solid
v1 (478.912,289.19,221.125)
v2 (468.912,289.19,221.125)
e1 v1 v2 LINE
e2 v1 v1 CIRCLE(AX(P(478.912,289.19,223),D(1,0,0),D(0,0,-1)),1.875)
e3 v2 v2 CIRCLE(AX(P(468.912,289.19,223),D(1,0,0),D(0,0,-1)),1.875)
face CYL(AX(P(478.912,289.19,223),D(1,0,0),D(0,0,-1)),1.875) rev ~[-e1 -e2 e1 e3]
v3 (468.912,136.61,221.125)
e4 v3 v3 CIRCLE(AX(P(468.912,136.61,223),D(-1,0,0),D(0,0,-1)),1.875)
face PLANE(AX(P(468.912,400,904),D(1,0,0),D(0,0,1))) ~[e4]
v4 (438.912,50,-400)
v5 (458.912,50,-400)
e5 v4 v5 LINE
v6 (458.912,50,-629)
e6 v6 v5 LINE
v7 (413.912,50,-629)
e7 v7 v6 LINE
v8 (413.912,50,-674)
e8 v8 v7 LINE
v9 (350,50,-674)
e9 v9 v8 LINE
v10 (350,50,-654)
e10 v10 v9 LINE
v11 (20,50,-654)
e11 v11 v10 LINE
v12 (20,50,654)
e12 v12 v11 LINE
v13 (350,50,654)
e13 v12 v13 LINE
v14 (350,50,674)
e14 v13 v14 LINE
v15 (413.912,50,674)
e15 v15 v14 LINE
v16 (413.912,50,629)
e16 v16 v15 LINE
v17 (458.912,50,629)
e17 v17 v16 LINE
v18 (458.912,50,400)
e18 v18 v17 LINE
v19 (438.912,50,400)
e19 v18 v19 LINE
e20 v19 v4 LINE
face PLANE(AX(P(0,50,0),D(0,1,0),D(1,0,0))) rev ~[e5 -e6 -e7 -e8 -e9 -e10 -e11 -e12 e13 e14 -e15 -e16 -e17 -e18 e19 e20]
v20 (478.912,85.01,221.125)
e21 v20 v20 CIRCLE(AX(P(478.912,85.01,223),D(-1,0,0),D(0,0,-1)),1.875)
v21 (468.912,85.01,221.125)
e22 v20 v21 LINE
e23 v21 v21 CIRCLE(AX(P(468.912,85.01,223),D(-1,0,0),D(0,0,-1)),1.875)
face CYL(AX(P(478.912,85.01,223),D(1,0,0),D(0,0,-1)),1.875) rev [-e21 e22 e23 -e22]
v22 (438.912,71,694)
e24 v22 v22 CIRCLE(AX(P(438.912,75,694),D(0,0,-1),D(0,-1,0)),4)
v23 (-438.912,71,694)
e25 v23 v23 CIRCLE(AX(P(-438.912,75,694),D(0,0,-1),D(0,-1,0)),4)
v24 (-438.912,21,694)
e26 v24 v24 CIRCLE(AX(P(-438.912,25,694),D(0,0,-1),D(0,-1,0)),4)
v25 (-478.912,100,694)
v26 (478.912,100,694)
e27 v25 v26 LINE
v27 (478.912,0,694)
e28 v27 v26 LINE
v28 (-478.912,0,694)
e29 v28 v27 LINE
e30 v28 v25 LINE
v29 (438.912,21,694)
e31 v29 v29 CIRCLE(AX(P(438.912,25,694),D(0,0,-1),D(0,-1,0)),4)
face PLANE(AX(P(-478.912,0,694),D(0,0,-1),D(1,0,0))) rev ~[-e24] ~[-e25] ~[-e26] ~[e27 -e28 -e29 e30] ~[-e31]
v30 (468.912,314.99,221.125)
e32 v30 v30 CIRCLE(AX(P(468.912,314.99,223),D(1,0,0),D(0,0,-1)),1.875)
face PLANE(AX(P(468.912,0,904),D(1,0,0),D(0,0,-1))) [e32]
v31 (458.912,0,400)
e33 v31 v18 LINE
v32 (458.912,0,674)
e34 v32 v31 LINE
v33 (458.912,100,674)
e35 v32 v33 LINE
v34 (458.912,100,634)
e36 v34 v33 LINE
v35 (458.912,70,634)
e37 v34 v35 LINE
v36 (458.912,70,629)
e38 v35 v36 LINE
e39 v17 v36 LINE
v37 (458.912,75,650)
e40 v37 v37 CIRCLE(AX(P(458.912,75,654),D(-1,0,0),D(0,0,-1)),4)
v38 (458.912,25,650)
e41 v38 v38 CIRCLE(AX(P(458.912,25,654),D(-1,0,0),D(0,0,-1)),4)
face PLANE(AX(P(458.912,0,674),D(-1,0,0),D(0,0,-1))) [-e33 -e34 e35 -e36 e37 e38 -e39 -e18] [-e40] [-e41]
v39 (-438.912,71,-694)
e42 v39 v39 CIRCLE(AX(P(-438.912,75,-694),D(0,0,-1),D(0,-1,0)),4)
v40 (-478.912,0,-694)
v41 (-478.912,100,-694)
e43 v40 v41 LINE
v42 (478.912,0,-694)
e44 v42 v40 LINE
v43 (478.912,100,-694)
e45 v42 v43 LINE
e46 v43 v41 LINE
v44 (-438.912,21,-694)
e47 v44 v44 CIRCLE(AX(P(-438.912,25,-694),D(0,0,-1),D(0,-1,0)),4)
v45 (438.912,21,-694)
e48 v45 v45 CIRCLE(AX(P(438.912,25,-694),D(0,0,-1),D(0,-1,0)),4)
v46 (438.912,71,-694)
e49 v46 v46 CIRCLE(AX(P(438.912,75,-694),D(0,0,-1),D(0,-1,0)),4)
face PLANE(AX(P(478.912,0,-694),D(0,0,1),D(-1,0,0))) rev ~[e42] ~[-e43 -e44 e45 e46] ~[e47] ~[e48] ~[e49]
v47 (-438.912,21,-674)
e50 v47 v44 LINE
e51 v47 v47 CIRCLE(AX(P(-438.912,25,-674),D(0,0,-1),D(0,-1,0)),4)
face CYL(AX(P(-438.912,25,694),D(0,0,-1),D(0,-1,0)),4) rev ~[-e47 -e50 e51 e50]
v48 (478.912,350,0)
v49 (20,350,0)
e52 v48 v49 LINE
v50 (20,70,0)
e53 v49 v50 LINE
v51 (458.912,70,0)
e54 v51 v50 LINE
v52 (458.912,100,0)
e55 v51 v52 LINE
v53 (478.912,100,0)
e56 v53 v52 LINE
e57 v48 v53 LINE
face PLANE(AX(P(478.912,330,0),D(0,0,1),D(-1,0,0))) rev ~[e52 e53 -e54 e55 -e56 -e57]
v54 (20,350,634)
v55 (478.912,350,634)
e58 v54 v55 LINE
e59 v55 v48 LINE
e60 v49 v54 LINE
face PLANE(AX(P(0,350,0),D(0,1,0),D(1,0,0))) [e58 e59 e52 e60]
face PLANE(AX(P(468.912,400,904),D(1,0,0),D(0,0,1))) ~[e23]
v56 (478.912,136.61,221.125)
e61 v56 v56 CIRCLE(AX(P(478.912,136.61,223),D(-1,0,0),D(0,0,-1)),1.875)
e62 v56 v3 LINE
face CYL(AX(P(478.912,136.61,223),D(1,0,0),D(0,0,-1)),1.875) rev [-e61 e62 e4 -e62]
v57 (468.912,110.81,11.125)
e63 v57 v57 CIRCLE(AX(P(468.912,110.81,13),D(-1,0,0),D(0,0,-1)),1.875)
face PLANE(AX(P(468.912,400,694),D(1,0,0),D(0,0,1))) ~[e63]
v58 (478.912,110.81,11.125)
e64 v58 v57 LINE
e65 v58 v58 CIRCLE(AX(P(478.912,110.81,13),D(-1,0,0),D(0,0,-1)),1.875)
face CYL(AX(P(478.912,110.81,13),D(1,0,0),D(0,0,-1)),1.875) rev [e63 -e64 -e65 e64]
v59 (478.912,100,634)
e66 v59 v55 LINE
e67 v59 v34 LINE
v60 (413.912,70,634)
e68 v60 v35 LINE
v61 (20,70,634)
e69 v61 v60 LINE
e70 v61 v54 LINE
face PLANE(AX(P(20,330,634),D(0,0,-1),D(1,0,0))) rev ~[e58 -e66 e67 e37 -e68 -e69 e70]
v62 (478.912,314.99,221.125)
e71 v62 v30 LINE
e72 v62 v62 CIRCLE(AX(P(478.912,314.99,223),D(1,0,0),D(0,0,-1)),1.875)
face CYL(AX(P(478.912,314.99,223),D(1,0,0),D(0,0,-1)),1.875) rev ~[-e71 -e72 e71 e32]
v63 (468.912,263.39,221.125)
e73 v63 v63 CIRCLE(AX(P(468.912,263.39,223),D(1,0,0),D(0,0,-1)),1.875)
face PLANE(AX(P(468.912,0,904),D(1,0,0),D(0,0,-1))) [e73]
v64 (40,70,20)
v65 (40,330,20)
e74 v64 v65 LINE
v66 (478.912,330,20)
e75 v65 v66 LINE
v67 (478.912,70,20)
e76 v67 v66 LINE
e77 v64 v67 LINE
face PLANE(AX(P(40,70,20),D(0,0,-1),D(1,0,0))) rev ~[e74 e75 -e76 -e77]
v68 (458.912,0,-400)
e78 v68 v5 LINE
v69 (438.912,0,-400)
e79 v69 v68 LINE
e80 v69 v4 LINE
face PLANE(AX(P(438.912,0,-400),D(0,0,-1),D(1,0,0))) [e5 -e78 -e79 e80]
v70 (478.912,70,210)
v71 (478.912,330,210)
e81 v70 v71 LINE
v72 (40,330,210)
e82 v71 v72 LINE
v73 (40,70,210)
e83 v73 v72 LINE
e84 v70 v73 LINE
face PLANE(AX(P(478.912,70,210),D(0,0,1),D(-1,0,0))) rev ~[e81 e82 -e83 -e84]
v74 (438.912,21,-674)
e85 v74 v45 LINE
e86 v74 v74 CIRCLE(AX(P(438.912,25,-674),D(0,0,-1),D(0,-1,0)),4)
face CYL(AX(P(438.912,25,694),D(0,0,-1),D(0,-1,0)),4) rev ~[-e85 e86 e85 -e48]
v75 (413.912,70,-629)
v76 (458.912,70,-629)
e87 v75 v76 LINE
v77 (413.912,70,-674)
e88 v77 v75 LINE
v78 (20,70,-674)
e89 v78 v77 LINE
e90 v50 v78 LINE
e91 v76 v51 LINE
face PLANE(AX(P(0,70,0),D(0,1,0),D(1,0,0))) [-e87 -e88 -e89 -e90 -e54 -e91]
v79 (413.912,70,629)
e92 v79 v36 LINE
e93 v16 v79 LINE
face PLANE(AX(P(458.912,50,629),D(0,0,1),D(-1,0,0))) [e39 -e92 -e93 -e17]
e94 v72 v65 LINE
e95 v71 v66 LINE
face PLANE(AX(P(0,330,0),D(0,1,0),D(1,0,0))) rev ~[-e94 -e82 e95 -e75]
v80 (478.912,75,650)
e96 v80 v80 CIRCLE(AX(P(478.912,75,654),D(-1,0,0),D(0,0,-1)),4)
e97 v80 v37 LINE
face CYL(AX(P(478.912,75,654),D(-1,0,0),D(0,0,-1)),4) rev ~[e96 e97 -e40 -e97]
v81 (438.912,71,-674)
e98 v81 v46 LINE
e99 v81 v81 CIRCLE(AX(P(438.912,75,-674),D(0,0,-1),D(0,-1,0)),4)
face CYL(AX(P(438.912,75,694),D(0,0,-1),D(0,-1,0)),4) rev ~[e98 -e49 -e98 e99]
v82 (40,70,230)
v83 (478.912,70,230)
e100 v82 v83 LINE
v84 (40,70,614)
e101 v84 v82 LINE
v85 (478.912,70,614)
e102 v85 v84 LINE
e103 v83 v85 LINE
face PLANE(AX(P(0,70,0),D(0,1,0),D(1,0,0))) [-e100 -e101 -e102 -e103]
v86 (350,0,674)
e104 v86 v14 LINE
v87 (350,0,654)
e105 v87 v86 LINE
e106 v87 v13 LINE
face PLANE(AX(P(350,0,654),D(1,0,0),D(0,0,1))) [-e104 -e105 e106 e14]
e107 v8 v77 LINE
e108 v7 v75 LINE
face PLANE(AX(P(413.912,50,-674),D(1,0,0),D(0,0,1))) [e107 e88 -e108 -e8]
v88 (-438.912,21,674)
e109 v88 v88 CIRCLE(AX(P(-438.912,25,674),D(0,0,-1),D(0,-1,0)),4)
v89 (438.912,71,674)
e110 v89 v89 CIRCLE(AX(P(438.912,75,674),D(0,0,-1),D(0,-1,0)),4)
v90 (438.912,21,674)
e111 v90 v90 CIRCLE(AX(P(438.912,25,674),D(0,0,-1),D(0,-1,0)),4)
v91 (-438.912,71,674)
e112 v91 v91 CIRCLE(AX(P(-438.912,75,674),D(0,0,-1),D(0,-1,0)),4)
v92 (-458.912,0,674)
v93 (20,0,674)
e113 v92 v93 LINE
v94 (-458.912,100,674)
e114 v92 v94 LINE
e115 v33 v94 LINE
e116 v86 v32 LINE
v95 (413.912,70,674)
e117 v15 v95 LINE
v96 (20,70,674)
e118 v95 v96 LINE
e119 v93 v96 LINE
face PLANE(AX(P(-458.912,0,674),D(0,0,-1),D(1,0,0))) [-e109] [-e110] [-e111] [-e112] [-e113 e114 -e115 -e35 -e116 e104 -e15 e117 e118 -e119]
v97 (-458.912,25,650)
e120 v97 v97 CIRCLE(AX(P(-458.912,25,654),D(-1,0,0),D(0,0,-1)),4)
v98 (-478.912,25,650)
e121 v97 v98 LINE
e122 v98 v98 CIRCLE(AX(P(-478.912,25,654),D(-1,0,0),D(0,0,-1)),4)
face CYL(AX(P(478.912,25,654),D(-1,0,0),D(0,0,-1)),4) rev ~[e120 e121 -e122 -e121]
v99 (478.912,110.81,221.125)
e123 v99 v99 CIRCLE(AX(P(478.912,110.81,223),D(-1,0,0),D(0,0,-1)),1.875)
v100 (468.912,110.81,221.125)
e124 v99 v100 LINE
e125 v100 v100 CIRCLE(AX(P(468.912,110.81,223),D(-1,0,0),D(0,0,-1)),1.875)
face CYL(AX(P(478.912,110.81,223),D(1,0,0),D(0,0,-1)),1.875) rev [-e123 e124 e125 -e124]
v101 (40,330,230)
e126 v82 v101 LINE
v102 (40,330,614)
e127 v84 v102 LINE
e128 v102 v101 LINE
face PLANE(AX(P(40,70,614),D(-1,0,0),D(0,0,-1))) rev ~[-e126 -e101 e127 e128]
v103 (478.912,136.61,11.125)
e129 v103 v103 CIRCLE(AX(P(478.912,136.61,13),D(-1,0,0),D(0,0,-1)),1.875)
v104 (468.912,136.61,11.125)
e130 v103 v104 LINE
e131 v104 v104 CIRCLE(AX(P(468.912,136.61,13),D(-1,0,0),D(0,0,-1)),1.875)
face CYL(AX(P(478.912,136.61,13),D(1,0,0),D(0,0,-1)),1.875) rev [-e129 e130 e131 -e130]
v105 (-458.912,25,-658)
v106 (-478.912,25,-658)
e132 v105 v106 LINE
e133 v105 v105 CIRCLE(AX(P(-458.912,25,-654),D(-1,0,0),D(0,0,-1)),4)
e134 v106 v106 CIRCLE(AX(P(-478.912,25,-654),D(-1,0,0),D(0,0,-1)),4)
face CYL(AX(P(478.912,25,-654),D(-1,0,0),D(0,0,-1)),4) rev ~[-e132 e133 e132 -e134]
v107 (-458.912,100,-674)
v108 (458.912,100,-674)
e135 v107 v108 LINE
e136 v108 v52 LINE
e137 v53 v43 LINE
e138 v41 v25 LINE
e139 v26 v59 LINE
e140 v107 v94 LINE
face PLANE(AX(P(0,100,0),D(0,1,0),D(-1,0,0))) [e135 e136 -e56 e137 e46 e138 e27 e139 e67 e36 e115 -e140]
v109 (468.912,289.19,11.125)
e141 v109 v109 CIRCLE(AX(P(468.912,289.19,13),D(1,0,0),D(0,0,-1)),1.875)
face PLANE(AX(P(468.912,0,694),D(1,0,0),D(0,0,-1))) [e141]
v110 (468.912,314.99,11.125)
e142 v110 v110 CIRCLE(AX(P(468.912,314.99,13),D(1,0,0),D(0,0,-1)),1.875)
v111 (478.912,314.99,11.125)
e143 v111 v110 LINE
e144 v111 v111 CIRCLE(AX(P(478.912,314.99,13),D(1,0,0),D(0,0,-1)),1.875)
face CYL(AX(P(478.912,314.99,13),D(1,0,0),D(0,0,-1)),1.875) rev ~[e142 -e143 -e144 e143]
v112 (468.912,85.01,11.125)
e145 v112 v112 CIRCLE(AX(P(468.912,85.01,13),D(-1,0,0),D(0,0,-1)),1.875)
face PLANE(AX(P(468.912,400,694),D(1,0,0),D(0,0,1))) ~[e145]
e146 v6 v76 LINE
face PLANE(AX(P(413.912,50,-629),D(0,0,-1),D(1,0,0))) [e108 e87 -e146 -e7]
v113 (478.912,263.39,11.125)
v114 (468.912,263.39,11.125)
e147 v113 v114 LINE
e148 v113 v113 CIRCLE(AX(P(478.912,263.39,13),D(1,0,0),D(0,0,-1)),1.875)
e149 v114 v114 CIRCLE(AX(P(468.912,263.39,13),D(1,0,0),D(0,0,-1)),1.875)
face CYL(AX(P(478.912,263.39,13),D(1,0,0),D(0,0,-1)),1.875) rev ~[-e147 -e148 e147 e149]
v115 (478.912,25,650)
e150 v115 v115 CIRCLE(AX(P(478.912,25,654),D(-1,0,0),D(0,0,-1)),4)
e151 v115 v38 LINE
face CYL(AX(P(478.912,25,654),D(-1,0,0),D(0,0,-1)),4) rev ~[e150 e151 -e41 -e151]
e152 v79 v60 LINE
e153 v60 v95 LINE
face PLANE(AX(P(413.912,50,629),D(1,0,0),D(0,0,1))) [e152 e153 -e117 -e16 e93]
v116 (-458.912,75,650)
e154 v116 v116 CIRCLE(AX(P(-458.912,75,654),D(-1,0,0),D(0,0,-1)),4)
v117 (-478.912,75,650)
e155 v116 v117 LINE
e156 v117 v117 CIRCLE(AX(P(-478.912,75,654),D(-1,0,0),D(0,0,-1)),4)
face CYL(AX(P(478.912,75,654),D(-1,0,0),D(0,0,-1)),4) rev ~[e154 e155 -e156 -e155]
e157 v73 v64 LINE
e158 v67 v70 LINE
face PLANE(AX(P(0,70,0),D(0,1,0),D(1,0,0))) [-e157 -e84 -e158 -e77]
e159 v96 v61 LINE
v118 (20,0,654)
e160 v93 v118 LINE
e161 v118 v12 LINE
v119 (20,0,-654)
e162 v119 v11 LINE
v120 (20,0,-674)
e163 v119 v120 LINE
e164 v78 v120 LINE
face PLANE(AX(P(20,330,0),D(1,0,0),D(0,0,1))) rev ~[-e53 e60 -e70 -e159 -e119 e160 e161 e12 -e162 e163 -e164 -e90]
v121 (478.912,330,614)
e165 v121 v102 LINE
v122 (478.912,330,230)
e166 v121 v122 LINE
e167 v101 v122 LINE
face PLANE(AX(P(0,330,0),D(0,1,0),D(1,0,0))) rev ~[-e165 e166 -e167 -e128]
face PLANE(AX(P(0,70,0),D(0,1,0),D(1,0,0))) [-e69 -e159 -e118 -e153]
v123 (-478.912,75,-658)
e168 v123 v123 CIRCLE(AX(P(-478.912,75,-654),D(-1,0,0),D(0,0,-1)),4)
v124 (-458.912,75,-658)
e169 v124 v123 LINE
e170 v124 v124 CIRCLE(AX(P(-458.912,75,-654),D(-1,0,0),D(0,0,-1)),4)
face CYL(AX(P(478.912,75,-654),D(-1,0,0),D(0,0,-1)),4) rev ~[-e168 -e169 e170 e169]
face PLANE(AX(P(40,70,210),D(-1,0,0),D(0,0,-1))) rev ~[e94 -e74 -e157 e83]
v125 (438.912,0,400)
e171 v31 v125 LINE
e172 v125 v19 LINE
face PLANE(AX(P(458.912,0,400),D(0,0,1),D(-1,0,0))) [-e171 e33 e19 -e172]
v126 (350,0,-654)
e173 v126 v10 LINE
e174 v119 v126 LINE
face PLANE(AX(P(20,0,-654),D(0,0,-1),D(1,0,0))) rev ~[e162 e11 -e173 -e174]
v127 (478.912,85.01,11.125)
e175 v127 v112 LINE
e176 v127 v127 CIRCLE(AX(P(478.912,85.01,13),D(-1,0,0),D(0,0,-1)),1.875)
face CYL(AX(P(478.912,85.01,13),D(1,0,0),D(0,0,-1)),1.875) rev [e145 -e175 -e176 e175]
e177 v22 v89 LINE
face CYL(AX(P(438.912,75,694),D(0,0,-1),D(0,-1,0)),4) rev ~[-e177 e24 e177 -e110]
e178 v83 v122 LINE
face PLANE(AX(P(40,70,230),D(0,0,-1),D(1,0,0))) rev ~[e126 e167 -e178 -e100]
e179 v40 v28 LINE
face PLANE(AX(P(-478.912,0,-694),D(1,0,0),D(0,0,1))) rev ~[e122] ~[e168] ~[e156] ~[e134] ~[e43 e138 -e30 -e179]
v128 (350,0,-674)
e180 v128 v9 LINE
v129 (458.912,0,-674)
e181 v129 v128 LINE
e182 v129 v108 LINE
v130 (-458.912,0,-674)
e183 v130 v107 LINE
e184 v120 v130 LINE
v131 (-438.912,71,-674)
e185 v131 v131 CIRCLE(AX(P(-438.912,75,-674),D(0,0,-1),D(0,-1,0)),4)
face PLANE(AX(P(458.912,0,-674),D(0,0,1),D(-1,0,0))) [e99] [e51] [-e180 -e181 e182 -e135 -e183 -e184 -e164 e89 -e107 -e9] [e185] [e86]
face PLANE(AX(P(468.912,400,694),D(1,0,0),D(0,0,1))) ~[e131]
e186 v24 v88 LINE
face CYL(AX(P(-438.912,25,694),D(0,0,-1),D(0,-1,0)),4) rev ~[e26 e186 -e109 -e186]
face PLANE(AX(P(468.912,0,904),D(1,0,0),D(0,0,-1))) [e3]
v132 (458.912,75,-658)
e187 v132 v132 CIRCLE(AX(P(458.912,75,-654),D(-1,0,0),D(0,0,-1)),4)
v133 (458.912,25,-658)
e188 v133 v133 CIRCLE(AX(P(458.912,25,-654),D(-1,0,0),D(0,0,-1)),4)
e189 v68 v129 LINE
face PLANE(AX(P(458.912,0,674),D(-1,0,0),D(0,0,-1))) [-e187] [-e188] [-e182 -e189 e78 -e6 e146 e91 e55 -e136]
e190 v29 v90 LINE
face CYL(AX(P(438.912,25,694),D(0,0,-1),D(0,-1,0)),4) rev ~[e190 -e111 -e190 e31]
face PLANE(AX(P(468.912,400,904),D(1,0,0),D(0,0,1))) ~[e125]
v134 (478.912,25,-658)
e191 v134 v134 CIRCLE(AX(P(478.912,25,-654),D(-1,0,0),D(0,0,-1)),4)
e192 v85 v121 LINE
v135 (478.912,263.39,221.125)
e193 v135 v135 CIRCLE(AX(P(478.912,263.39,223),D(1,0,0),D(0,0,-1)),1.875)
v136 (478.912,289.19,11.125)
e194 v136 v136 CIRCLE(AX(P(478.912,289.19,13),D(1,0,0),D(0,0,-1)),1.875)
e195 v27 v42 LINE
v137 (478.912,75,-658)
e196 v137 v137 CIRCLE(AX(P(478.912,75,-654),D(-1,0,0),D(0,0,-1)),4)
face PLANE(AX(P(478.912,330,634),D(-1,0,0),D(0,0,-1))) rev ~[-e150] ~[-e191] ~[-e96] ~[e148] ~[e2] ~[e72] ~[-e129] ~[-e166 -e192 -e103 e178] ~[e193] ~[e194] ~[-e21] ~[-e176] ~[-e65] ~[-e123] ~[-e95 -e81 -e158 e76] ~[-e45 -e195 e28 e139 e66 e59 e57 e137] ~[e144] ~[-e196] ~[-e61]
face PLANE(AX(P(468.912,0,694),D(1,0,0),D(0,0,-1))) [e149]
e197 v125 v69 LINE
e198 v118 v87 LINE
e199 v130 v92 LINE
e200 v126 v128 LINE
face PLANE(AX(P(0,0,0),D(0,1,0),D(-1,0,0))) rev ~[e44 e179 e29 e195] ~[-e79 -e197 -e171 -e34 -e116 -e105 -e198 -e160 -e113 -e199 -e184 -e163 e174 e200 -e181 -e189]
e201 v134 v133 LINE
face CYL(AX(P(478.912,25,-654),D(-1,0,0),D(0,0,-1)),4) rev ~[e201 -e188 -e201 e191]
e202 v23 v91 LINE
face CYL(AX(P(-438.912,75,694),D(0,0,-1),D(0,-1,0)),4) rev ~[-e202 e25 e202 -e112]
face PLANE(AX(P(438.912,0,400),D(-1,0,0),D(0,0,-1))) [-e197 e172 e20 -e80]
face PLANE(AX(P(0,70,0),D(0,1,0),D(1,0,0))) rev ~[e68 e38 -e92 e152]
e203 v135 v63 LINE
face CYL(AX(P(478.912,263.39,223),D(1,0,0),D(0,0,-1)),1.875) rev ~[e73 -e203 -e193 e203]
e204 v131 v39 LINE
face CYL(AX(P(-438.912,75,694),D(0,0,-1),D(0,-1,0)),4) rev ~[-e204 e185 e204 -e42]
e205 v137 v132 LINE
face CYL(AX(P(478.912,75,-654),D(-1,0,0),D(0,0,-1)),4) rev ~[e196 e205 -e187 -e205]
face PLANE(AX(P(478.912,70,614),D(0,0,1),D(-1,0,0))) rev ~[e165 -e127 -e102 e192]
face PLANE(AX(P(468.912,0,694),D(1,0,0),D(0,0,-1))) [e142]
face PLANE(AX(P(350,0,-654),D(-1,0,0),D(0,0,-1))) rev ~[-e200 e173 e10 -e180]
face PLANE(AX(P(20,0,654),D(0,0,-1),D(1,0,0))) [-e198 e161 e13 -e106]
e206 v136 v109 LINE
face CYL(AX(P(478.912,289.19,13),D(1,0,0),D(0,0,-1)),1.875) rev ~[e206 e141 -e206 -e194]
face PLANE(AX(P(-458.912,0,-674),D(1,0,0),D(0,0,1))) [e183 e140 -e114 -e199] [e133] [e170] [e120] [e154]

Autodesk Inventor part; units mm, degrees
sketch "Sketch1" plane through (0, 0, 0) normal (0, 1, 0) x (-1, 0, 0)
  line L0 (478.912, 694) -> (-478.912, 694)
  line L1 (-478.912, 694) -> (-478.912, -694)
  line L2 (-478.912, -694) -> (478.912, -694)
  line L3 (478.912, -694) -> (478.912, 694)
  line L4 (478.912, 694) -> (-478.912, -694) construction
  line L5 (-478.912, 694) -> (478.912, -694) construction
  line L6 (458.912, 674) -> (-458.912, 674)
  line L7 (-458.912, 674) -> (-458.912, -674)
  line L8 (-458.912, -674) -> (458.912, -674)
  line L9 (458.912, -674) -> (458.912, 674)
  line L10 (458.912, 674) -> (-458.912, -674) construction
  line L11 (-458.912, 674) -> (458.912, -674) construction
  line L12 (-458.912, 400) -> (-438.912, 400)
  line L13 (-438.912, 400) -> (-438.912, -400)
  line L14 (-438.912, -400) -> (-458.912, -400)
  line L15 (-458.912, -400) -> (-458.912, 400)
  line L16 (-458.912, 400) -> (-438.912, -400) construction
  line L17 (-438.912, 400) -> (-458.912, -400) construction
  line L18 (-20, -654) -> (-350, -654)
  line L19 (-350, -654) -> (-350, -674)
  line L20 (-350, -674) -> (350, -674)
  line L21 (0, -664) -> (-0.1429, -664.0041) construction
  line L22 (-0.1428, -663.9959) -> (0, -664) construction
  line L23 (0, -654) -> (0, -674)
  line L24 (-20, 654) -> (-350, 654)
  line L25 (-350, 654) -> (-350, 674)
  line L26 (0, -654) -> (0, 674)
  line L27 (0, 674) -> (-20, 674)
  line L28 (-20, 674) -> (-20, -674)
  point P0 (0, 0)
  point P1 (-448.912, 0)
  point P2 (-458.912, 0)
  point P3 (0, 654)
  dimension "d0" = 957.824
  dimension "d1" = 1388
  dimension "d2" = 917.824
  dimension "d3" = 1348
  dimension "d6" = 20
  dimension "d7" = 800
  dimension "d11" = 20
  dimension "d96" = 20
  dimension "d97" = 90
extrude "Extrusion7" add sketch "Sketch1" along normal blind 100
sketch "Sketch2" plane through (478.912, 0, 694) normal (1, 0, 0) x (0, 0, -1)
  line L0 (0, 0) -> (0, 100) projected
  line L1 (0, 100) -> (1388, 100) projected
  point P0 (694, 0)
  point P1 (40, 75)
  dimension "d40" = 40
  dimension "d41" = 25
hole "Hole1" at (478.912, 75, 654) direction (-1, 0, 0) diameter 8 end through all
sketch "Sketch3" plane through (478.912, 0, 694) normal (1, 0, 0) x (0, 0, -1)
  line L0 (0, 0) -> (0, 100) projected
  line L1 (0, 0) -> (1388, 0) projected
  point P0 (694, 0)
  point P1 (40, 25)
  dimension "d42" = 40
  dimension "d43" = 25
hole "Hole2" at (478.912, 25, 654) direction (-1, 0, 0) diameter 8 end through all
sketch "Sketch4" plane through (478.912, 0, 694) normal (1, 0, 0) x (0, 0, -1)
  line L0 (1388, 0) -> (1388, 100) projected
  line L1 (0, 100) -> (1388, 100) projected
  point P0 (694, 0)
  point P1 (1348, 75)
  dimension "d58" = 40
  dimension "d59" = 25
hole "Hole3" at (478.912, 75, -654) direction (-1, 0, 0) diameter 8 end through all
sketch "Sketch5" plane through (478.912, 0, 694) normal (1, 0, 0) x (0, 0, -1)
  line L0 (1388, 0) -> (1388, 100) projected
  line L1 (0, 0) -> (1388, 0) projected
  point P0 (694, 0)
  point P1 (1348, 25)
  dimension "d60" = 40
  dimension "d61" = 25
hole "Hole4" at (478.912, 25, -654) direction (-1, 0, 0) diameter 8 end through all
sketch "Sketch6" plane through (-478.912, 0, 694) normal (0, 0, 1) x (1, 0, 0)
  line L0 (0, 100) -> (957.824, 100) projected
  line L1 (957.824, 0) -> (957.824, 100) projected
  line L2 (0, 0) -> (957.824, 0) projected
  point P0 (478.912, 0)
  point P1 (917.824, 75)
  point P2 (917.824, 25)
  dimension "d69" = 25
  dimension "d70" = 40
  dimension "d71" = 40
  dimension "d72" = 25
hole "Hole5" at (438.912, 75, 694) at (438.912, 25, 694) direction (0, 0, -1) diameter 8 end through all
sketch "Sketch7" plane through (-478.912, 0, 694) normal (0, 0, 1) x (1, 0, 0)
  line L0 (0, 0) -> (0, 100) projected
  line L1 (0, 100) -> (957.824, 100) projected
  point P0 (478.912, 0)
  point P1 (40, 75)
  dimension "d87" = 40
  dimension "d88" = 25
hole "Hole6" at (-438.912, 75, 694) direction (0, 0, -1) diameter 8 end through all
sketch "Sketch8" plane through (-478.912, 0, 694) normal (0, 0, 1) x (1, 0, 0)
  line L0 (0, 0) -> (0, 100) projected
  line L1 (0, 0) -> (957.824, 0) projected
  point P0 (478.912, 0)
  point P1 (40, 25)
  dimension "d89" = 40
  dimension "d90" = 25
hole "Hole7" at (-438.912, 25, 694) direction (0, 0, -1) diameter 8 end through all
ref_plane "Work Plane1" through (-458.912, 100, 0) normal (0, 0, 1) x (1, 0, 0)
extrude "Extrusion10" add sketch "Sketch1" along normal blind 50 contours L28 L24 L25 L6 | L28 L8 L19 L18 | L12 L13 L14 L7
sketch "Sketch9" plane through (0, 50, 0) normal (0, 1, 0) x (1, 0, 0)
  line L0 (20, -674) -> (20, 674) projected
  line L1 (20, 674) -> (413.912, 674)
  line L2 (350, 674) -> (458.912, 674) projected
  line L3 (413.912, 674) -> (413.912, 629)
  line L4 (413.912, 629) -> (458.912, 629)
  line L5 (458.912, 674) -> (458.912, -674) projected
  line L6 (458.912, 629) -> (458.912, -629)
  line L7 (458.912, -629) -> (413.912, -629)
  line L8 (413.912, -629) -> (413.912, -674)
  line L9 (458.912, -674) -> (350, -674) projected
  line L10 (350, -674) -> (20, -674) projected
  line L11 (413.912, -674) -> (20, -674)
  line L12 (20, -674) -> (20, 674)
  point P0 (0, 0)
  dimension "d105" = 45
  dimension "d106" = 45
  dimension "d107" = 45
  dimension "d108" = 45
extrude "Extrusion12" add sketch "Sketch9" along normal blind 20 contours L0 L1 L3 L4 L5 L7 L8 L9 L10
sketch "Sketch11" plane through (478.912, 0, 694) normal (1, 0, 0) x (0, 0, -1)
  line L0 (0, 100) -> (1388, 100) projected
  line L1 (0, 0) -> (0, 100) projected
  line L2 (0, 100) -> (1388, 100)
  line L3 (60, 100) -> (694, 100)
  line L4 (694, 100) -> (694, 70)
  line L5 (694, 70) -> (60, 70)
  line L6 (60, 70) -> (60, 100)
  line L7 (60, 100) -> (694, 70) construction
  line L8 (694, 100) -> (60, 70) construction
  point P0 (694, 0)
  point P1 (377, 85)
  point P2 (694, 100)
  dimension "d132" = 634
  dimension "d133" = 30
  dimension "d134" = 0
  dimension "d135" = 60
extrude "Extrusion13" cut sketch "Sketch11" against normal blind 25
sketch "Sketch12" plane through (0, 70, 0) normal (0, 1, 0) x (1, 0, 0)
  line L0 (20, -634) -> (478.912, -634)
  line L1 (478.912, -634) -> (478.912, -614)
  line L2 (478.912, -614) -> (20, -614)
  line L3 (20, -614) -> (20, -634)
  line L4 (20, -634) -> (478.912, -614) construction
  line L5 (478.912, -634) -> (20, -614) construction
  line L6 (20, -20) -> (478.912, -20)
  line L7 (478.912, -20) -> (478.912, 0)
  line L8 (478.912, 0) -> (20, 0)
  line L9 (20, 0) -> (20, -20)
  line L10 (20, -20) -> (478.912, 0) construction
  line L11 (478.912, -20) -> (20, 0) construction
  line L12 (20, -230) -> (478.912, -230)
  line L13 (478.912, -230) -> (478.912, -210)
  line L14 (478.912, -210) -> (20, -210)
  line L15 (20, -210) -> (20, -230)
  line L16 (20, -230) -> (478.912, -210) construction
  line L17 (478.912, -230) -> (20, -210) construction
  line L18 (20, -210) -> (40, -210)
  line L19 (40, -210) -> (40, -20)
  line L20 (40, -20) -> (20, -20)
  line L21 (20, -20) -> (20, -210)
  line L22 (20, -210) -> (40, -20) construction
  line L23 (40, -210) -> (20, -20) construction
  line L24 (20, -614) -> (40, -614)
  line L25 (40, -614) -> (40, -230)
  line L26 (40, -230) -> (20, -230)
  line L27 (20, -230) -> (20, -614)
  line L28 (20, -614) -> (40, -230) construction
  line L29 (40, -614) -> (20, -230) construction
  point P0 (0, 0)
  point P1 (249.456, -624)
  point P2 (249.456, -10)
  point P3 (249.456, -220)
  point P4 (30, -115)
  point P5 (30, -422)
  dimension "d138" = 458.912
  dimension "d139" = 20
  dimension "d140" = 458.912
  dimension "d141" = 20
  dimension "d142" = 458.912
  dimension "d143" = 20
  dimension "d144" = 190
  dimension "d145" = 20
  dimension "d146" = 190
  dimension "d147" = 20
  dimension "d148" = 384
extrude "Extrusion14" add sketch "Sketch12" along normal blind 260
sketch "Sketch13" plane through (0, 330, 0) normal (0, 1, 0) x (1, 0, 0)
  line L0 (20, -634) -> (478.912, -634)
  line L1 (478.912, -634) -> (478.912, 0)
  line L2 (478.912, 0) -> (20, 0)
  line L3 (20, 0) -> (20, -634)
  line L4 (20, -634) -> (478.912, 0) construction
  line L5 (478.912, -634) -> (20, 0) construction
  point P0 (0, 0)
  point P1 (249.456, -317)
  dimension "d151" = 458.912
  dimension "d152" = 634
extrude "Extrusion15" add sketch "Sketch13" along normal blind 20
ref_plane "Work Plane2" through (0, 200, 0) normal (0, -1, 0) x (1, 0, 0)
ref_plane "Work Plane3" through (40, 70, 115) normal (0, 0, 1) x (1, 0, 0)
sketch "Sketch15" plane through (478.912, 0, 694) normal (1, 0, 0) x (0, 0, -1)
  circle A0 centre (681, 314.99) radius 1.875
  circle A1 centre (681, 289.19) radius 1.875
  circle A2 centre (681, 263.39) radius 1.875
  line L0 (674, 70) -> (674, 330) projected
  line L1 (674, 330) -> (694, 330)
  line L2 (694, 100) -> (694, 350) projected
  point P0 (694, 0)
  dimension "d166" = 3.75
  dimension "d167" = 3.75
  dimension "d168" = 3.75
  dimension "d169" = 15.01
  dimension "d170" = 25.8
  dimension "d171" = 25.8
  dimension "d172" = 13
extrude "Extrusion17" cut sketch "Sketch15" against normal blind 10
mirror "Mirror3" about plane through (0, 200, 0) normal (0, -1, 0) of "Extrusion17"
pattern_linear "Rectangular Pattern1" count 2 spacing 210 along (0, 0, 1) of "Extrusion17", "Mirror3"
properties part number "Middle Floor"
